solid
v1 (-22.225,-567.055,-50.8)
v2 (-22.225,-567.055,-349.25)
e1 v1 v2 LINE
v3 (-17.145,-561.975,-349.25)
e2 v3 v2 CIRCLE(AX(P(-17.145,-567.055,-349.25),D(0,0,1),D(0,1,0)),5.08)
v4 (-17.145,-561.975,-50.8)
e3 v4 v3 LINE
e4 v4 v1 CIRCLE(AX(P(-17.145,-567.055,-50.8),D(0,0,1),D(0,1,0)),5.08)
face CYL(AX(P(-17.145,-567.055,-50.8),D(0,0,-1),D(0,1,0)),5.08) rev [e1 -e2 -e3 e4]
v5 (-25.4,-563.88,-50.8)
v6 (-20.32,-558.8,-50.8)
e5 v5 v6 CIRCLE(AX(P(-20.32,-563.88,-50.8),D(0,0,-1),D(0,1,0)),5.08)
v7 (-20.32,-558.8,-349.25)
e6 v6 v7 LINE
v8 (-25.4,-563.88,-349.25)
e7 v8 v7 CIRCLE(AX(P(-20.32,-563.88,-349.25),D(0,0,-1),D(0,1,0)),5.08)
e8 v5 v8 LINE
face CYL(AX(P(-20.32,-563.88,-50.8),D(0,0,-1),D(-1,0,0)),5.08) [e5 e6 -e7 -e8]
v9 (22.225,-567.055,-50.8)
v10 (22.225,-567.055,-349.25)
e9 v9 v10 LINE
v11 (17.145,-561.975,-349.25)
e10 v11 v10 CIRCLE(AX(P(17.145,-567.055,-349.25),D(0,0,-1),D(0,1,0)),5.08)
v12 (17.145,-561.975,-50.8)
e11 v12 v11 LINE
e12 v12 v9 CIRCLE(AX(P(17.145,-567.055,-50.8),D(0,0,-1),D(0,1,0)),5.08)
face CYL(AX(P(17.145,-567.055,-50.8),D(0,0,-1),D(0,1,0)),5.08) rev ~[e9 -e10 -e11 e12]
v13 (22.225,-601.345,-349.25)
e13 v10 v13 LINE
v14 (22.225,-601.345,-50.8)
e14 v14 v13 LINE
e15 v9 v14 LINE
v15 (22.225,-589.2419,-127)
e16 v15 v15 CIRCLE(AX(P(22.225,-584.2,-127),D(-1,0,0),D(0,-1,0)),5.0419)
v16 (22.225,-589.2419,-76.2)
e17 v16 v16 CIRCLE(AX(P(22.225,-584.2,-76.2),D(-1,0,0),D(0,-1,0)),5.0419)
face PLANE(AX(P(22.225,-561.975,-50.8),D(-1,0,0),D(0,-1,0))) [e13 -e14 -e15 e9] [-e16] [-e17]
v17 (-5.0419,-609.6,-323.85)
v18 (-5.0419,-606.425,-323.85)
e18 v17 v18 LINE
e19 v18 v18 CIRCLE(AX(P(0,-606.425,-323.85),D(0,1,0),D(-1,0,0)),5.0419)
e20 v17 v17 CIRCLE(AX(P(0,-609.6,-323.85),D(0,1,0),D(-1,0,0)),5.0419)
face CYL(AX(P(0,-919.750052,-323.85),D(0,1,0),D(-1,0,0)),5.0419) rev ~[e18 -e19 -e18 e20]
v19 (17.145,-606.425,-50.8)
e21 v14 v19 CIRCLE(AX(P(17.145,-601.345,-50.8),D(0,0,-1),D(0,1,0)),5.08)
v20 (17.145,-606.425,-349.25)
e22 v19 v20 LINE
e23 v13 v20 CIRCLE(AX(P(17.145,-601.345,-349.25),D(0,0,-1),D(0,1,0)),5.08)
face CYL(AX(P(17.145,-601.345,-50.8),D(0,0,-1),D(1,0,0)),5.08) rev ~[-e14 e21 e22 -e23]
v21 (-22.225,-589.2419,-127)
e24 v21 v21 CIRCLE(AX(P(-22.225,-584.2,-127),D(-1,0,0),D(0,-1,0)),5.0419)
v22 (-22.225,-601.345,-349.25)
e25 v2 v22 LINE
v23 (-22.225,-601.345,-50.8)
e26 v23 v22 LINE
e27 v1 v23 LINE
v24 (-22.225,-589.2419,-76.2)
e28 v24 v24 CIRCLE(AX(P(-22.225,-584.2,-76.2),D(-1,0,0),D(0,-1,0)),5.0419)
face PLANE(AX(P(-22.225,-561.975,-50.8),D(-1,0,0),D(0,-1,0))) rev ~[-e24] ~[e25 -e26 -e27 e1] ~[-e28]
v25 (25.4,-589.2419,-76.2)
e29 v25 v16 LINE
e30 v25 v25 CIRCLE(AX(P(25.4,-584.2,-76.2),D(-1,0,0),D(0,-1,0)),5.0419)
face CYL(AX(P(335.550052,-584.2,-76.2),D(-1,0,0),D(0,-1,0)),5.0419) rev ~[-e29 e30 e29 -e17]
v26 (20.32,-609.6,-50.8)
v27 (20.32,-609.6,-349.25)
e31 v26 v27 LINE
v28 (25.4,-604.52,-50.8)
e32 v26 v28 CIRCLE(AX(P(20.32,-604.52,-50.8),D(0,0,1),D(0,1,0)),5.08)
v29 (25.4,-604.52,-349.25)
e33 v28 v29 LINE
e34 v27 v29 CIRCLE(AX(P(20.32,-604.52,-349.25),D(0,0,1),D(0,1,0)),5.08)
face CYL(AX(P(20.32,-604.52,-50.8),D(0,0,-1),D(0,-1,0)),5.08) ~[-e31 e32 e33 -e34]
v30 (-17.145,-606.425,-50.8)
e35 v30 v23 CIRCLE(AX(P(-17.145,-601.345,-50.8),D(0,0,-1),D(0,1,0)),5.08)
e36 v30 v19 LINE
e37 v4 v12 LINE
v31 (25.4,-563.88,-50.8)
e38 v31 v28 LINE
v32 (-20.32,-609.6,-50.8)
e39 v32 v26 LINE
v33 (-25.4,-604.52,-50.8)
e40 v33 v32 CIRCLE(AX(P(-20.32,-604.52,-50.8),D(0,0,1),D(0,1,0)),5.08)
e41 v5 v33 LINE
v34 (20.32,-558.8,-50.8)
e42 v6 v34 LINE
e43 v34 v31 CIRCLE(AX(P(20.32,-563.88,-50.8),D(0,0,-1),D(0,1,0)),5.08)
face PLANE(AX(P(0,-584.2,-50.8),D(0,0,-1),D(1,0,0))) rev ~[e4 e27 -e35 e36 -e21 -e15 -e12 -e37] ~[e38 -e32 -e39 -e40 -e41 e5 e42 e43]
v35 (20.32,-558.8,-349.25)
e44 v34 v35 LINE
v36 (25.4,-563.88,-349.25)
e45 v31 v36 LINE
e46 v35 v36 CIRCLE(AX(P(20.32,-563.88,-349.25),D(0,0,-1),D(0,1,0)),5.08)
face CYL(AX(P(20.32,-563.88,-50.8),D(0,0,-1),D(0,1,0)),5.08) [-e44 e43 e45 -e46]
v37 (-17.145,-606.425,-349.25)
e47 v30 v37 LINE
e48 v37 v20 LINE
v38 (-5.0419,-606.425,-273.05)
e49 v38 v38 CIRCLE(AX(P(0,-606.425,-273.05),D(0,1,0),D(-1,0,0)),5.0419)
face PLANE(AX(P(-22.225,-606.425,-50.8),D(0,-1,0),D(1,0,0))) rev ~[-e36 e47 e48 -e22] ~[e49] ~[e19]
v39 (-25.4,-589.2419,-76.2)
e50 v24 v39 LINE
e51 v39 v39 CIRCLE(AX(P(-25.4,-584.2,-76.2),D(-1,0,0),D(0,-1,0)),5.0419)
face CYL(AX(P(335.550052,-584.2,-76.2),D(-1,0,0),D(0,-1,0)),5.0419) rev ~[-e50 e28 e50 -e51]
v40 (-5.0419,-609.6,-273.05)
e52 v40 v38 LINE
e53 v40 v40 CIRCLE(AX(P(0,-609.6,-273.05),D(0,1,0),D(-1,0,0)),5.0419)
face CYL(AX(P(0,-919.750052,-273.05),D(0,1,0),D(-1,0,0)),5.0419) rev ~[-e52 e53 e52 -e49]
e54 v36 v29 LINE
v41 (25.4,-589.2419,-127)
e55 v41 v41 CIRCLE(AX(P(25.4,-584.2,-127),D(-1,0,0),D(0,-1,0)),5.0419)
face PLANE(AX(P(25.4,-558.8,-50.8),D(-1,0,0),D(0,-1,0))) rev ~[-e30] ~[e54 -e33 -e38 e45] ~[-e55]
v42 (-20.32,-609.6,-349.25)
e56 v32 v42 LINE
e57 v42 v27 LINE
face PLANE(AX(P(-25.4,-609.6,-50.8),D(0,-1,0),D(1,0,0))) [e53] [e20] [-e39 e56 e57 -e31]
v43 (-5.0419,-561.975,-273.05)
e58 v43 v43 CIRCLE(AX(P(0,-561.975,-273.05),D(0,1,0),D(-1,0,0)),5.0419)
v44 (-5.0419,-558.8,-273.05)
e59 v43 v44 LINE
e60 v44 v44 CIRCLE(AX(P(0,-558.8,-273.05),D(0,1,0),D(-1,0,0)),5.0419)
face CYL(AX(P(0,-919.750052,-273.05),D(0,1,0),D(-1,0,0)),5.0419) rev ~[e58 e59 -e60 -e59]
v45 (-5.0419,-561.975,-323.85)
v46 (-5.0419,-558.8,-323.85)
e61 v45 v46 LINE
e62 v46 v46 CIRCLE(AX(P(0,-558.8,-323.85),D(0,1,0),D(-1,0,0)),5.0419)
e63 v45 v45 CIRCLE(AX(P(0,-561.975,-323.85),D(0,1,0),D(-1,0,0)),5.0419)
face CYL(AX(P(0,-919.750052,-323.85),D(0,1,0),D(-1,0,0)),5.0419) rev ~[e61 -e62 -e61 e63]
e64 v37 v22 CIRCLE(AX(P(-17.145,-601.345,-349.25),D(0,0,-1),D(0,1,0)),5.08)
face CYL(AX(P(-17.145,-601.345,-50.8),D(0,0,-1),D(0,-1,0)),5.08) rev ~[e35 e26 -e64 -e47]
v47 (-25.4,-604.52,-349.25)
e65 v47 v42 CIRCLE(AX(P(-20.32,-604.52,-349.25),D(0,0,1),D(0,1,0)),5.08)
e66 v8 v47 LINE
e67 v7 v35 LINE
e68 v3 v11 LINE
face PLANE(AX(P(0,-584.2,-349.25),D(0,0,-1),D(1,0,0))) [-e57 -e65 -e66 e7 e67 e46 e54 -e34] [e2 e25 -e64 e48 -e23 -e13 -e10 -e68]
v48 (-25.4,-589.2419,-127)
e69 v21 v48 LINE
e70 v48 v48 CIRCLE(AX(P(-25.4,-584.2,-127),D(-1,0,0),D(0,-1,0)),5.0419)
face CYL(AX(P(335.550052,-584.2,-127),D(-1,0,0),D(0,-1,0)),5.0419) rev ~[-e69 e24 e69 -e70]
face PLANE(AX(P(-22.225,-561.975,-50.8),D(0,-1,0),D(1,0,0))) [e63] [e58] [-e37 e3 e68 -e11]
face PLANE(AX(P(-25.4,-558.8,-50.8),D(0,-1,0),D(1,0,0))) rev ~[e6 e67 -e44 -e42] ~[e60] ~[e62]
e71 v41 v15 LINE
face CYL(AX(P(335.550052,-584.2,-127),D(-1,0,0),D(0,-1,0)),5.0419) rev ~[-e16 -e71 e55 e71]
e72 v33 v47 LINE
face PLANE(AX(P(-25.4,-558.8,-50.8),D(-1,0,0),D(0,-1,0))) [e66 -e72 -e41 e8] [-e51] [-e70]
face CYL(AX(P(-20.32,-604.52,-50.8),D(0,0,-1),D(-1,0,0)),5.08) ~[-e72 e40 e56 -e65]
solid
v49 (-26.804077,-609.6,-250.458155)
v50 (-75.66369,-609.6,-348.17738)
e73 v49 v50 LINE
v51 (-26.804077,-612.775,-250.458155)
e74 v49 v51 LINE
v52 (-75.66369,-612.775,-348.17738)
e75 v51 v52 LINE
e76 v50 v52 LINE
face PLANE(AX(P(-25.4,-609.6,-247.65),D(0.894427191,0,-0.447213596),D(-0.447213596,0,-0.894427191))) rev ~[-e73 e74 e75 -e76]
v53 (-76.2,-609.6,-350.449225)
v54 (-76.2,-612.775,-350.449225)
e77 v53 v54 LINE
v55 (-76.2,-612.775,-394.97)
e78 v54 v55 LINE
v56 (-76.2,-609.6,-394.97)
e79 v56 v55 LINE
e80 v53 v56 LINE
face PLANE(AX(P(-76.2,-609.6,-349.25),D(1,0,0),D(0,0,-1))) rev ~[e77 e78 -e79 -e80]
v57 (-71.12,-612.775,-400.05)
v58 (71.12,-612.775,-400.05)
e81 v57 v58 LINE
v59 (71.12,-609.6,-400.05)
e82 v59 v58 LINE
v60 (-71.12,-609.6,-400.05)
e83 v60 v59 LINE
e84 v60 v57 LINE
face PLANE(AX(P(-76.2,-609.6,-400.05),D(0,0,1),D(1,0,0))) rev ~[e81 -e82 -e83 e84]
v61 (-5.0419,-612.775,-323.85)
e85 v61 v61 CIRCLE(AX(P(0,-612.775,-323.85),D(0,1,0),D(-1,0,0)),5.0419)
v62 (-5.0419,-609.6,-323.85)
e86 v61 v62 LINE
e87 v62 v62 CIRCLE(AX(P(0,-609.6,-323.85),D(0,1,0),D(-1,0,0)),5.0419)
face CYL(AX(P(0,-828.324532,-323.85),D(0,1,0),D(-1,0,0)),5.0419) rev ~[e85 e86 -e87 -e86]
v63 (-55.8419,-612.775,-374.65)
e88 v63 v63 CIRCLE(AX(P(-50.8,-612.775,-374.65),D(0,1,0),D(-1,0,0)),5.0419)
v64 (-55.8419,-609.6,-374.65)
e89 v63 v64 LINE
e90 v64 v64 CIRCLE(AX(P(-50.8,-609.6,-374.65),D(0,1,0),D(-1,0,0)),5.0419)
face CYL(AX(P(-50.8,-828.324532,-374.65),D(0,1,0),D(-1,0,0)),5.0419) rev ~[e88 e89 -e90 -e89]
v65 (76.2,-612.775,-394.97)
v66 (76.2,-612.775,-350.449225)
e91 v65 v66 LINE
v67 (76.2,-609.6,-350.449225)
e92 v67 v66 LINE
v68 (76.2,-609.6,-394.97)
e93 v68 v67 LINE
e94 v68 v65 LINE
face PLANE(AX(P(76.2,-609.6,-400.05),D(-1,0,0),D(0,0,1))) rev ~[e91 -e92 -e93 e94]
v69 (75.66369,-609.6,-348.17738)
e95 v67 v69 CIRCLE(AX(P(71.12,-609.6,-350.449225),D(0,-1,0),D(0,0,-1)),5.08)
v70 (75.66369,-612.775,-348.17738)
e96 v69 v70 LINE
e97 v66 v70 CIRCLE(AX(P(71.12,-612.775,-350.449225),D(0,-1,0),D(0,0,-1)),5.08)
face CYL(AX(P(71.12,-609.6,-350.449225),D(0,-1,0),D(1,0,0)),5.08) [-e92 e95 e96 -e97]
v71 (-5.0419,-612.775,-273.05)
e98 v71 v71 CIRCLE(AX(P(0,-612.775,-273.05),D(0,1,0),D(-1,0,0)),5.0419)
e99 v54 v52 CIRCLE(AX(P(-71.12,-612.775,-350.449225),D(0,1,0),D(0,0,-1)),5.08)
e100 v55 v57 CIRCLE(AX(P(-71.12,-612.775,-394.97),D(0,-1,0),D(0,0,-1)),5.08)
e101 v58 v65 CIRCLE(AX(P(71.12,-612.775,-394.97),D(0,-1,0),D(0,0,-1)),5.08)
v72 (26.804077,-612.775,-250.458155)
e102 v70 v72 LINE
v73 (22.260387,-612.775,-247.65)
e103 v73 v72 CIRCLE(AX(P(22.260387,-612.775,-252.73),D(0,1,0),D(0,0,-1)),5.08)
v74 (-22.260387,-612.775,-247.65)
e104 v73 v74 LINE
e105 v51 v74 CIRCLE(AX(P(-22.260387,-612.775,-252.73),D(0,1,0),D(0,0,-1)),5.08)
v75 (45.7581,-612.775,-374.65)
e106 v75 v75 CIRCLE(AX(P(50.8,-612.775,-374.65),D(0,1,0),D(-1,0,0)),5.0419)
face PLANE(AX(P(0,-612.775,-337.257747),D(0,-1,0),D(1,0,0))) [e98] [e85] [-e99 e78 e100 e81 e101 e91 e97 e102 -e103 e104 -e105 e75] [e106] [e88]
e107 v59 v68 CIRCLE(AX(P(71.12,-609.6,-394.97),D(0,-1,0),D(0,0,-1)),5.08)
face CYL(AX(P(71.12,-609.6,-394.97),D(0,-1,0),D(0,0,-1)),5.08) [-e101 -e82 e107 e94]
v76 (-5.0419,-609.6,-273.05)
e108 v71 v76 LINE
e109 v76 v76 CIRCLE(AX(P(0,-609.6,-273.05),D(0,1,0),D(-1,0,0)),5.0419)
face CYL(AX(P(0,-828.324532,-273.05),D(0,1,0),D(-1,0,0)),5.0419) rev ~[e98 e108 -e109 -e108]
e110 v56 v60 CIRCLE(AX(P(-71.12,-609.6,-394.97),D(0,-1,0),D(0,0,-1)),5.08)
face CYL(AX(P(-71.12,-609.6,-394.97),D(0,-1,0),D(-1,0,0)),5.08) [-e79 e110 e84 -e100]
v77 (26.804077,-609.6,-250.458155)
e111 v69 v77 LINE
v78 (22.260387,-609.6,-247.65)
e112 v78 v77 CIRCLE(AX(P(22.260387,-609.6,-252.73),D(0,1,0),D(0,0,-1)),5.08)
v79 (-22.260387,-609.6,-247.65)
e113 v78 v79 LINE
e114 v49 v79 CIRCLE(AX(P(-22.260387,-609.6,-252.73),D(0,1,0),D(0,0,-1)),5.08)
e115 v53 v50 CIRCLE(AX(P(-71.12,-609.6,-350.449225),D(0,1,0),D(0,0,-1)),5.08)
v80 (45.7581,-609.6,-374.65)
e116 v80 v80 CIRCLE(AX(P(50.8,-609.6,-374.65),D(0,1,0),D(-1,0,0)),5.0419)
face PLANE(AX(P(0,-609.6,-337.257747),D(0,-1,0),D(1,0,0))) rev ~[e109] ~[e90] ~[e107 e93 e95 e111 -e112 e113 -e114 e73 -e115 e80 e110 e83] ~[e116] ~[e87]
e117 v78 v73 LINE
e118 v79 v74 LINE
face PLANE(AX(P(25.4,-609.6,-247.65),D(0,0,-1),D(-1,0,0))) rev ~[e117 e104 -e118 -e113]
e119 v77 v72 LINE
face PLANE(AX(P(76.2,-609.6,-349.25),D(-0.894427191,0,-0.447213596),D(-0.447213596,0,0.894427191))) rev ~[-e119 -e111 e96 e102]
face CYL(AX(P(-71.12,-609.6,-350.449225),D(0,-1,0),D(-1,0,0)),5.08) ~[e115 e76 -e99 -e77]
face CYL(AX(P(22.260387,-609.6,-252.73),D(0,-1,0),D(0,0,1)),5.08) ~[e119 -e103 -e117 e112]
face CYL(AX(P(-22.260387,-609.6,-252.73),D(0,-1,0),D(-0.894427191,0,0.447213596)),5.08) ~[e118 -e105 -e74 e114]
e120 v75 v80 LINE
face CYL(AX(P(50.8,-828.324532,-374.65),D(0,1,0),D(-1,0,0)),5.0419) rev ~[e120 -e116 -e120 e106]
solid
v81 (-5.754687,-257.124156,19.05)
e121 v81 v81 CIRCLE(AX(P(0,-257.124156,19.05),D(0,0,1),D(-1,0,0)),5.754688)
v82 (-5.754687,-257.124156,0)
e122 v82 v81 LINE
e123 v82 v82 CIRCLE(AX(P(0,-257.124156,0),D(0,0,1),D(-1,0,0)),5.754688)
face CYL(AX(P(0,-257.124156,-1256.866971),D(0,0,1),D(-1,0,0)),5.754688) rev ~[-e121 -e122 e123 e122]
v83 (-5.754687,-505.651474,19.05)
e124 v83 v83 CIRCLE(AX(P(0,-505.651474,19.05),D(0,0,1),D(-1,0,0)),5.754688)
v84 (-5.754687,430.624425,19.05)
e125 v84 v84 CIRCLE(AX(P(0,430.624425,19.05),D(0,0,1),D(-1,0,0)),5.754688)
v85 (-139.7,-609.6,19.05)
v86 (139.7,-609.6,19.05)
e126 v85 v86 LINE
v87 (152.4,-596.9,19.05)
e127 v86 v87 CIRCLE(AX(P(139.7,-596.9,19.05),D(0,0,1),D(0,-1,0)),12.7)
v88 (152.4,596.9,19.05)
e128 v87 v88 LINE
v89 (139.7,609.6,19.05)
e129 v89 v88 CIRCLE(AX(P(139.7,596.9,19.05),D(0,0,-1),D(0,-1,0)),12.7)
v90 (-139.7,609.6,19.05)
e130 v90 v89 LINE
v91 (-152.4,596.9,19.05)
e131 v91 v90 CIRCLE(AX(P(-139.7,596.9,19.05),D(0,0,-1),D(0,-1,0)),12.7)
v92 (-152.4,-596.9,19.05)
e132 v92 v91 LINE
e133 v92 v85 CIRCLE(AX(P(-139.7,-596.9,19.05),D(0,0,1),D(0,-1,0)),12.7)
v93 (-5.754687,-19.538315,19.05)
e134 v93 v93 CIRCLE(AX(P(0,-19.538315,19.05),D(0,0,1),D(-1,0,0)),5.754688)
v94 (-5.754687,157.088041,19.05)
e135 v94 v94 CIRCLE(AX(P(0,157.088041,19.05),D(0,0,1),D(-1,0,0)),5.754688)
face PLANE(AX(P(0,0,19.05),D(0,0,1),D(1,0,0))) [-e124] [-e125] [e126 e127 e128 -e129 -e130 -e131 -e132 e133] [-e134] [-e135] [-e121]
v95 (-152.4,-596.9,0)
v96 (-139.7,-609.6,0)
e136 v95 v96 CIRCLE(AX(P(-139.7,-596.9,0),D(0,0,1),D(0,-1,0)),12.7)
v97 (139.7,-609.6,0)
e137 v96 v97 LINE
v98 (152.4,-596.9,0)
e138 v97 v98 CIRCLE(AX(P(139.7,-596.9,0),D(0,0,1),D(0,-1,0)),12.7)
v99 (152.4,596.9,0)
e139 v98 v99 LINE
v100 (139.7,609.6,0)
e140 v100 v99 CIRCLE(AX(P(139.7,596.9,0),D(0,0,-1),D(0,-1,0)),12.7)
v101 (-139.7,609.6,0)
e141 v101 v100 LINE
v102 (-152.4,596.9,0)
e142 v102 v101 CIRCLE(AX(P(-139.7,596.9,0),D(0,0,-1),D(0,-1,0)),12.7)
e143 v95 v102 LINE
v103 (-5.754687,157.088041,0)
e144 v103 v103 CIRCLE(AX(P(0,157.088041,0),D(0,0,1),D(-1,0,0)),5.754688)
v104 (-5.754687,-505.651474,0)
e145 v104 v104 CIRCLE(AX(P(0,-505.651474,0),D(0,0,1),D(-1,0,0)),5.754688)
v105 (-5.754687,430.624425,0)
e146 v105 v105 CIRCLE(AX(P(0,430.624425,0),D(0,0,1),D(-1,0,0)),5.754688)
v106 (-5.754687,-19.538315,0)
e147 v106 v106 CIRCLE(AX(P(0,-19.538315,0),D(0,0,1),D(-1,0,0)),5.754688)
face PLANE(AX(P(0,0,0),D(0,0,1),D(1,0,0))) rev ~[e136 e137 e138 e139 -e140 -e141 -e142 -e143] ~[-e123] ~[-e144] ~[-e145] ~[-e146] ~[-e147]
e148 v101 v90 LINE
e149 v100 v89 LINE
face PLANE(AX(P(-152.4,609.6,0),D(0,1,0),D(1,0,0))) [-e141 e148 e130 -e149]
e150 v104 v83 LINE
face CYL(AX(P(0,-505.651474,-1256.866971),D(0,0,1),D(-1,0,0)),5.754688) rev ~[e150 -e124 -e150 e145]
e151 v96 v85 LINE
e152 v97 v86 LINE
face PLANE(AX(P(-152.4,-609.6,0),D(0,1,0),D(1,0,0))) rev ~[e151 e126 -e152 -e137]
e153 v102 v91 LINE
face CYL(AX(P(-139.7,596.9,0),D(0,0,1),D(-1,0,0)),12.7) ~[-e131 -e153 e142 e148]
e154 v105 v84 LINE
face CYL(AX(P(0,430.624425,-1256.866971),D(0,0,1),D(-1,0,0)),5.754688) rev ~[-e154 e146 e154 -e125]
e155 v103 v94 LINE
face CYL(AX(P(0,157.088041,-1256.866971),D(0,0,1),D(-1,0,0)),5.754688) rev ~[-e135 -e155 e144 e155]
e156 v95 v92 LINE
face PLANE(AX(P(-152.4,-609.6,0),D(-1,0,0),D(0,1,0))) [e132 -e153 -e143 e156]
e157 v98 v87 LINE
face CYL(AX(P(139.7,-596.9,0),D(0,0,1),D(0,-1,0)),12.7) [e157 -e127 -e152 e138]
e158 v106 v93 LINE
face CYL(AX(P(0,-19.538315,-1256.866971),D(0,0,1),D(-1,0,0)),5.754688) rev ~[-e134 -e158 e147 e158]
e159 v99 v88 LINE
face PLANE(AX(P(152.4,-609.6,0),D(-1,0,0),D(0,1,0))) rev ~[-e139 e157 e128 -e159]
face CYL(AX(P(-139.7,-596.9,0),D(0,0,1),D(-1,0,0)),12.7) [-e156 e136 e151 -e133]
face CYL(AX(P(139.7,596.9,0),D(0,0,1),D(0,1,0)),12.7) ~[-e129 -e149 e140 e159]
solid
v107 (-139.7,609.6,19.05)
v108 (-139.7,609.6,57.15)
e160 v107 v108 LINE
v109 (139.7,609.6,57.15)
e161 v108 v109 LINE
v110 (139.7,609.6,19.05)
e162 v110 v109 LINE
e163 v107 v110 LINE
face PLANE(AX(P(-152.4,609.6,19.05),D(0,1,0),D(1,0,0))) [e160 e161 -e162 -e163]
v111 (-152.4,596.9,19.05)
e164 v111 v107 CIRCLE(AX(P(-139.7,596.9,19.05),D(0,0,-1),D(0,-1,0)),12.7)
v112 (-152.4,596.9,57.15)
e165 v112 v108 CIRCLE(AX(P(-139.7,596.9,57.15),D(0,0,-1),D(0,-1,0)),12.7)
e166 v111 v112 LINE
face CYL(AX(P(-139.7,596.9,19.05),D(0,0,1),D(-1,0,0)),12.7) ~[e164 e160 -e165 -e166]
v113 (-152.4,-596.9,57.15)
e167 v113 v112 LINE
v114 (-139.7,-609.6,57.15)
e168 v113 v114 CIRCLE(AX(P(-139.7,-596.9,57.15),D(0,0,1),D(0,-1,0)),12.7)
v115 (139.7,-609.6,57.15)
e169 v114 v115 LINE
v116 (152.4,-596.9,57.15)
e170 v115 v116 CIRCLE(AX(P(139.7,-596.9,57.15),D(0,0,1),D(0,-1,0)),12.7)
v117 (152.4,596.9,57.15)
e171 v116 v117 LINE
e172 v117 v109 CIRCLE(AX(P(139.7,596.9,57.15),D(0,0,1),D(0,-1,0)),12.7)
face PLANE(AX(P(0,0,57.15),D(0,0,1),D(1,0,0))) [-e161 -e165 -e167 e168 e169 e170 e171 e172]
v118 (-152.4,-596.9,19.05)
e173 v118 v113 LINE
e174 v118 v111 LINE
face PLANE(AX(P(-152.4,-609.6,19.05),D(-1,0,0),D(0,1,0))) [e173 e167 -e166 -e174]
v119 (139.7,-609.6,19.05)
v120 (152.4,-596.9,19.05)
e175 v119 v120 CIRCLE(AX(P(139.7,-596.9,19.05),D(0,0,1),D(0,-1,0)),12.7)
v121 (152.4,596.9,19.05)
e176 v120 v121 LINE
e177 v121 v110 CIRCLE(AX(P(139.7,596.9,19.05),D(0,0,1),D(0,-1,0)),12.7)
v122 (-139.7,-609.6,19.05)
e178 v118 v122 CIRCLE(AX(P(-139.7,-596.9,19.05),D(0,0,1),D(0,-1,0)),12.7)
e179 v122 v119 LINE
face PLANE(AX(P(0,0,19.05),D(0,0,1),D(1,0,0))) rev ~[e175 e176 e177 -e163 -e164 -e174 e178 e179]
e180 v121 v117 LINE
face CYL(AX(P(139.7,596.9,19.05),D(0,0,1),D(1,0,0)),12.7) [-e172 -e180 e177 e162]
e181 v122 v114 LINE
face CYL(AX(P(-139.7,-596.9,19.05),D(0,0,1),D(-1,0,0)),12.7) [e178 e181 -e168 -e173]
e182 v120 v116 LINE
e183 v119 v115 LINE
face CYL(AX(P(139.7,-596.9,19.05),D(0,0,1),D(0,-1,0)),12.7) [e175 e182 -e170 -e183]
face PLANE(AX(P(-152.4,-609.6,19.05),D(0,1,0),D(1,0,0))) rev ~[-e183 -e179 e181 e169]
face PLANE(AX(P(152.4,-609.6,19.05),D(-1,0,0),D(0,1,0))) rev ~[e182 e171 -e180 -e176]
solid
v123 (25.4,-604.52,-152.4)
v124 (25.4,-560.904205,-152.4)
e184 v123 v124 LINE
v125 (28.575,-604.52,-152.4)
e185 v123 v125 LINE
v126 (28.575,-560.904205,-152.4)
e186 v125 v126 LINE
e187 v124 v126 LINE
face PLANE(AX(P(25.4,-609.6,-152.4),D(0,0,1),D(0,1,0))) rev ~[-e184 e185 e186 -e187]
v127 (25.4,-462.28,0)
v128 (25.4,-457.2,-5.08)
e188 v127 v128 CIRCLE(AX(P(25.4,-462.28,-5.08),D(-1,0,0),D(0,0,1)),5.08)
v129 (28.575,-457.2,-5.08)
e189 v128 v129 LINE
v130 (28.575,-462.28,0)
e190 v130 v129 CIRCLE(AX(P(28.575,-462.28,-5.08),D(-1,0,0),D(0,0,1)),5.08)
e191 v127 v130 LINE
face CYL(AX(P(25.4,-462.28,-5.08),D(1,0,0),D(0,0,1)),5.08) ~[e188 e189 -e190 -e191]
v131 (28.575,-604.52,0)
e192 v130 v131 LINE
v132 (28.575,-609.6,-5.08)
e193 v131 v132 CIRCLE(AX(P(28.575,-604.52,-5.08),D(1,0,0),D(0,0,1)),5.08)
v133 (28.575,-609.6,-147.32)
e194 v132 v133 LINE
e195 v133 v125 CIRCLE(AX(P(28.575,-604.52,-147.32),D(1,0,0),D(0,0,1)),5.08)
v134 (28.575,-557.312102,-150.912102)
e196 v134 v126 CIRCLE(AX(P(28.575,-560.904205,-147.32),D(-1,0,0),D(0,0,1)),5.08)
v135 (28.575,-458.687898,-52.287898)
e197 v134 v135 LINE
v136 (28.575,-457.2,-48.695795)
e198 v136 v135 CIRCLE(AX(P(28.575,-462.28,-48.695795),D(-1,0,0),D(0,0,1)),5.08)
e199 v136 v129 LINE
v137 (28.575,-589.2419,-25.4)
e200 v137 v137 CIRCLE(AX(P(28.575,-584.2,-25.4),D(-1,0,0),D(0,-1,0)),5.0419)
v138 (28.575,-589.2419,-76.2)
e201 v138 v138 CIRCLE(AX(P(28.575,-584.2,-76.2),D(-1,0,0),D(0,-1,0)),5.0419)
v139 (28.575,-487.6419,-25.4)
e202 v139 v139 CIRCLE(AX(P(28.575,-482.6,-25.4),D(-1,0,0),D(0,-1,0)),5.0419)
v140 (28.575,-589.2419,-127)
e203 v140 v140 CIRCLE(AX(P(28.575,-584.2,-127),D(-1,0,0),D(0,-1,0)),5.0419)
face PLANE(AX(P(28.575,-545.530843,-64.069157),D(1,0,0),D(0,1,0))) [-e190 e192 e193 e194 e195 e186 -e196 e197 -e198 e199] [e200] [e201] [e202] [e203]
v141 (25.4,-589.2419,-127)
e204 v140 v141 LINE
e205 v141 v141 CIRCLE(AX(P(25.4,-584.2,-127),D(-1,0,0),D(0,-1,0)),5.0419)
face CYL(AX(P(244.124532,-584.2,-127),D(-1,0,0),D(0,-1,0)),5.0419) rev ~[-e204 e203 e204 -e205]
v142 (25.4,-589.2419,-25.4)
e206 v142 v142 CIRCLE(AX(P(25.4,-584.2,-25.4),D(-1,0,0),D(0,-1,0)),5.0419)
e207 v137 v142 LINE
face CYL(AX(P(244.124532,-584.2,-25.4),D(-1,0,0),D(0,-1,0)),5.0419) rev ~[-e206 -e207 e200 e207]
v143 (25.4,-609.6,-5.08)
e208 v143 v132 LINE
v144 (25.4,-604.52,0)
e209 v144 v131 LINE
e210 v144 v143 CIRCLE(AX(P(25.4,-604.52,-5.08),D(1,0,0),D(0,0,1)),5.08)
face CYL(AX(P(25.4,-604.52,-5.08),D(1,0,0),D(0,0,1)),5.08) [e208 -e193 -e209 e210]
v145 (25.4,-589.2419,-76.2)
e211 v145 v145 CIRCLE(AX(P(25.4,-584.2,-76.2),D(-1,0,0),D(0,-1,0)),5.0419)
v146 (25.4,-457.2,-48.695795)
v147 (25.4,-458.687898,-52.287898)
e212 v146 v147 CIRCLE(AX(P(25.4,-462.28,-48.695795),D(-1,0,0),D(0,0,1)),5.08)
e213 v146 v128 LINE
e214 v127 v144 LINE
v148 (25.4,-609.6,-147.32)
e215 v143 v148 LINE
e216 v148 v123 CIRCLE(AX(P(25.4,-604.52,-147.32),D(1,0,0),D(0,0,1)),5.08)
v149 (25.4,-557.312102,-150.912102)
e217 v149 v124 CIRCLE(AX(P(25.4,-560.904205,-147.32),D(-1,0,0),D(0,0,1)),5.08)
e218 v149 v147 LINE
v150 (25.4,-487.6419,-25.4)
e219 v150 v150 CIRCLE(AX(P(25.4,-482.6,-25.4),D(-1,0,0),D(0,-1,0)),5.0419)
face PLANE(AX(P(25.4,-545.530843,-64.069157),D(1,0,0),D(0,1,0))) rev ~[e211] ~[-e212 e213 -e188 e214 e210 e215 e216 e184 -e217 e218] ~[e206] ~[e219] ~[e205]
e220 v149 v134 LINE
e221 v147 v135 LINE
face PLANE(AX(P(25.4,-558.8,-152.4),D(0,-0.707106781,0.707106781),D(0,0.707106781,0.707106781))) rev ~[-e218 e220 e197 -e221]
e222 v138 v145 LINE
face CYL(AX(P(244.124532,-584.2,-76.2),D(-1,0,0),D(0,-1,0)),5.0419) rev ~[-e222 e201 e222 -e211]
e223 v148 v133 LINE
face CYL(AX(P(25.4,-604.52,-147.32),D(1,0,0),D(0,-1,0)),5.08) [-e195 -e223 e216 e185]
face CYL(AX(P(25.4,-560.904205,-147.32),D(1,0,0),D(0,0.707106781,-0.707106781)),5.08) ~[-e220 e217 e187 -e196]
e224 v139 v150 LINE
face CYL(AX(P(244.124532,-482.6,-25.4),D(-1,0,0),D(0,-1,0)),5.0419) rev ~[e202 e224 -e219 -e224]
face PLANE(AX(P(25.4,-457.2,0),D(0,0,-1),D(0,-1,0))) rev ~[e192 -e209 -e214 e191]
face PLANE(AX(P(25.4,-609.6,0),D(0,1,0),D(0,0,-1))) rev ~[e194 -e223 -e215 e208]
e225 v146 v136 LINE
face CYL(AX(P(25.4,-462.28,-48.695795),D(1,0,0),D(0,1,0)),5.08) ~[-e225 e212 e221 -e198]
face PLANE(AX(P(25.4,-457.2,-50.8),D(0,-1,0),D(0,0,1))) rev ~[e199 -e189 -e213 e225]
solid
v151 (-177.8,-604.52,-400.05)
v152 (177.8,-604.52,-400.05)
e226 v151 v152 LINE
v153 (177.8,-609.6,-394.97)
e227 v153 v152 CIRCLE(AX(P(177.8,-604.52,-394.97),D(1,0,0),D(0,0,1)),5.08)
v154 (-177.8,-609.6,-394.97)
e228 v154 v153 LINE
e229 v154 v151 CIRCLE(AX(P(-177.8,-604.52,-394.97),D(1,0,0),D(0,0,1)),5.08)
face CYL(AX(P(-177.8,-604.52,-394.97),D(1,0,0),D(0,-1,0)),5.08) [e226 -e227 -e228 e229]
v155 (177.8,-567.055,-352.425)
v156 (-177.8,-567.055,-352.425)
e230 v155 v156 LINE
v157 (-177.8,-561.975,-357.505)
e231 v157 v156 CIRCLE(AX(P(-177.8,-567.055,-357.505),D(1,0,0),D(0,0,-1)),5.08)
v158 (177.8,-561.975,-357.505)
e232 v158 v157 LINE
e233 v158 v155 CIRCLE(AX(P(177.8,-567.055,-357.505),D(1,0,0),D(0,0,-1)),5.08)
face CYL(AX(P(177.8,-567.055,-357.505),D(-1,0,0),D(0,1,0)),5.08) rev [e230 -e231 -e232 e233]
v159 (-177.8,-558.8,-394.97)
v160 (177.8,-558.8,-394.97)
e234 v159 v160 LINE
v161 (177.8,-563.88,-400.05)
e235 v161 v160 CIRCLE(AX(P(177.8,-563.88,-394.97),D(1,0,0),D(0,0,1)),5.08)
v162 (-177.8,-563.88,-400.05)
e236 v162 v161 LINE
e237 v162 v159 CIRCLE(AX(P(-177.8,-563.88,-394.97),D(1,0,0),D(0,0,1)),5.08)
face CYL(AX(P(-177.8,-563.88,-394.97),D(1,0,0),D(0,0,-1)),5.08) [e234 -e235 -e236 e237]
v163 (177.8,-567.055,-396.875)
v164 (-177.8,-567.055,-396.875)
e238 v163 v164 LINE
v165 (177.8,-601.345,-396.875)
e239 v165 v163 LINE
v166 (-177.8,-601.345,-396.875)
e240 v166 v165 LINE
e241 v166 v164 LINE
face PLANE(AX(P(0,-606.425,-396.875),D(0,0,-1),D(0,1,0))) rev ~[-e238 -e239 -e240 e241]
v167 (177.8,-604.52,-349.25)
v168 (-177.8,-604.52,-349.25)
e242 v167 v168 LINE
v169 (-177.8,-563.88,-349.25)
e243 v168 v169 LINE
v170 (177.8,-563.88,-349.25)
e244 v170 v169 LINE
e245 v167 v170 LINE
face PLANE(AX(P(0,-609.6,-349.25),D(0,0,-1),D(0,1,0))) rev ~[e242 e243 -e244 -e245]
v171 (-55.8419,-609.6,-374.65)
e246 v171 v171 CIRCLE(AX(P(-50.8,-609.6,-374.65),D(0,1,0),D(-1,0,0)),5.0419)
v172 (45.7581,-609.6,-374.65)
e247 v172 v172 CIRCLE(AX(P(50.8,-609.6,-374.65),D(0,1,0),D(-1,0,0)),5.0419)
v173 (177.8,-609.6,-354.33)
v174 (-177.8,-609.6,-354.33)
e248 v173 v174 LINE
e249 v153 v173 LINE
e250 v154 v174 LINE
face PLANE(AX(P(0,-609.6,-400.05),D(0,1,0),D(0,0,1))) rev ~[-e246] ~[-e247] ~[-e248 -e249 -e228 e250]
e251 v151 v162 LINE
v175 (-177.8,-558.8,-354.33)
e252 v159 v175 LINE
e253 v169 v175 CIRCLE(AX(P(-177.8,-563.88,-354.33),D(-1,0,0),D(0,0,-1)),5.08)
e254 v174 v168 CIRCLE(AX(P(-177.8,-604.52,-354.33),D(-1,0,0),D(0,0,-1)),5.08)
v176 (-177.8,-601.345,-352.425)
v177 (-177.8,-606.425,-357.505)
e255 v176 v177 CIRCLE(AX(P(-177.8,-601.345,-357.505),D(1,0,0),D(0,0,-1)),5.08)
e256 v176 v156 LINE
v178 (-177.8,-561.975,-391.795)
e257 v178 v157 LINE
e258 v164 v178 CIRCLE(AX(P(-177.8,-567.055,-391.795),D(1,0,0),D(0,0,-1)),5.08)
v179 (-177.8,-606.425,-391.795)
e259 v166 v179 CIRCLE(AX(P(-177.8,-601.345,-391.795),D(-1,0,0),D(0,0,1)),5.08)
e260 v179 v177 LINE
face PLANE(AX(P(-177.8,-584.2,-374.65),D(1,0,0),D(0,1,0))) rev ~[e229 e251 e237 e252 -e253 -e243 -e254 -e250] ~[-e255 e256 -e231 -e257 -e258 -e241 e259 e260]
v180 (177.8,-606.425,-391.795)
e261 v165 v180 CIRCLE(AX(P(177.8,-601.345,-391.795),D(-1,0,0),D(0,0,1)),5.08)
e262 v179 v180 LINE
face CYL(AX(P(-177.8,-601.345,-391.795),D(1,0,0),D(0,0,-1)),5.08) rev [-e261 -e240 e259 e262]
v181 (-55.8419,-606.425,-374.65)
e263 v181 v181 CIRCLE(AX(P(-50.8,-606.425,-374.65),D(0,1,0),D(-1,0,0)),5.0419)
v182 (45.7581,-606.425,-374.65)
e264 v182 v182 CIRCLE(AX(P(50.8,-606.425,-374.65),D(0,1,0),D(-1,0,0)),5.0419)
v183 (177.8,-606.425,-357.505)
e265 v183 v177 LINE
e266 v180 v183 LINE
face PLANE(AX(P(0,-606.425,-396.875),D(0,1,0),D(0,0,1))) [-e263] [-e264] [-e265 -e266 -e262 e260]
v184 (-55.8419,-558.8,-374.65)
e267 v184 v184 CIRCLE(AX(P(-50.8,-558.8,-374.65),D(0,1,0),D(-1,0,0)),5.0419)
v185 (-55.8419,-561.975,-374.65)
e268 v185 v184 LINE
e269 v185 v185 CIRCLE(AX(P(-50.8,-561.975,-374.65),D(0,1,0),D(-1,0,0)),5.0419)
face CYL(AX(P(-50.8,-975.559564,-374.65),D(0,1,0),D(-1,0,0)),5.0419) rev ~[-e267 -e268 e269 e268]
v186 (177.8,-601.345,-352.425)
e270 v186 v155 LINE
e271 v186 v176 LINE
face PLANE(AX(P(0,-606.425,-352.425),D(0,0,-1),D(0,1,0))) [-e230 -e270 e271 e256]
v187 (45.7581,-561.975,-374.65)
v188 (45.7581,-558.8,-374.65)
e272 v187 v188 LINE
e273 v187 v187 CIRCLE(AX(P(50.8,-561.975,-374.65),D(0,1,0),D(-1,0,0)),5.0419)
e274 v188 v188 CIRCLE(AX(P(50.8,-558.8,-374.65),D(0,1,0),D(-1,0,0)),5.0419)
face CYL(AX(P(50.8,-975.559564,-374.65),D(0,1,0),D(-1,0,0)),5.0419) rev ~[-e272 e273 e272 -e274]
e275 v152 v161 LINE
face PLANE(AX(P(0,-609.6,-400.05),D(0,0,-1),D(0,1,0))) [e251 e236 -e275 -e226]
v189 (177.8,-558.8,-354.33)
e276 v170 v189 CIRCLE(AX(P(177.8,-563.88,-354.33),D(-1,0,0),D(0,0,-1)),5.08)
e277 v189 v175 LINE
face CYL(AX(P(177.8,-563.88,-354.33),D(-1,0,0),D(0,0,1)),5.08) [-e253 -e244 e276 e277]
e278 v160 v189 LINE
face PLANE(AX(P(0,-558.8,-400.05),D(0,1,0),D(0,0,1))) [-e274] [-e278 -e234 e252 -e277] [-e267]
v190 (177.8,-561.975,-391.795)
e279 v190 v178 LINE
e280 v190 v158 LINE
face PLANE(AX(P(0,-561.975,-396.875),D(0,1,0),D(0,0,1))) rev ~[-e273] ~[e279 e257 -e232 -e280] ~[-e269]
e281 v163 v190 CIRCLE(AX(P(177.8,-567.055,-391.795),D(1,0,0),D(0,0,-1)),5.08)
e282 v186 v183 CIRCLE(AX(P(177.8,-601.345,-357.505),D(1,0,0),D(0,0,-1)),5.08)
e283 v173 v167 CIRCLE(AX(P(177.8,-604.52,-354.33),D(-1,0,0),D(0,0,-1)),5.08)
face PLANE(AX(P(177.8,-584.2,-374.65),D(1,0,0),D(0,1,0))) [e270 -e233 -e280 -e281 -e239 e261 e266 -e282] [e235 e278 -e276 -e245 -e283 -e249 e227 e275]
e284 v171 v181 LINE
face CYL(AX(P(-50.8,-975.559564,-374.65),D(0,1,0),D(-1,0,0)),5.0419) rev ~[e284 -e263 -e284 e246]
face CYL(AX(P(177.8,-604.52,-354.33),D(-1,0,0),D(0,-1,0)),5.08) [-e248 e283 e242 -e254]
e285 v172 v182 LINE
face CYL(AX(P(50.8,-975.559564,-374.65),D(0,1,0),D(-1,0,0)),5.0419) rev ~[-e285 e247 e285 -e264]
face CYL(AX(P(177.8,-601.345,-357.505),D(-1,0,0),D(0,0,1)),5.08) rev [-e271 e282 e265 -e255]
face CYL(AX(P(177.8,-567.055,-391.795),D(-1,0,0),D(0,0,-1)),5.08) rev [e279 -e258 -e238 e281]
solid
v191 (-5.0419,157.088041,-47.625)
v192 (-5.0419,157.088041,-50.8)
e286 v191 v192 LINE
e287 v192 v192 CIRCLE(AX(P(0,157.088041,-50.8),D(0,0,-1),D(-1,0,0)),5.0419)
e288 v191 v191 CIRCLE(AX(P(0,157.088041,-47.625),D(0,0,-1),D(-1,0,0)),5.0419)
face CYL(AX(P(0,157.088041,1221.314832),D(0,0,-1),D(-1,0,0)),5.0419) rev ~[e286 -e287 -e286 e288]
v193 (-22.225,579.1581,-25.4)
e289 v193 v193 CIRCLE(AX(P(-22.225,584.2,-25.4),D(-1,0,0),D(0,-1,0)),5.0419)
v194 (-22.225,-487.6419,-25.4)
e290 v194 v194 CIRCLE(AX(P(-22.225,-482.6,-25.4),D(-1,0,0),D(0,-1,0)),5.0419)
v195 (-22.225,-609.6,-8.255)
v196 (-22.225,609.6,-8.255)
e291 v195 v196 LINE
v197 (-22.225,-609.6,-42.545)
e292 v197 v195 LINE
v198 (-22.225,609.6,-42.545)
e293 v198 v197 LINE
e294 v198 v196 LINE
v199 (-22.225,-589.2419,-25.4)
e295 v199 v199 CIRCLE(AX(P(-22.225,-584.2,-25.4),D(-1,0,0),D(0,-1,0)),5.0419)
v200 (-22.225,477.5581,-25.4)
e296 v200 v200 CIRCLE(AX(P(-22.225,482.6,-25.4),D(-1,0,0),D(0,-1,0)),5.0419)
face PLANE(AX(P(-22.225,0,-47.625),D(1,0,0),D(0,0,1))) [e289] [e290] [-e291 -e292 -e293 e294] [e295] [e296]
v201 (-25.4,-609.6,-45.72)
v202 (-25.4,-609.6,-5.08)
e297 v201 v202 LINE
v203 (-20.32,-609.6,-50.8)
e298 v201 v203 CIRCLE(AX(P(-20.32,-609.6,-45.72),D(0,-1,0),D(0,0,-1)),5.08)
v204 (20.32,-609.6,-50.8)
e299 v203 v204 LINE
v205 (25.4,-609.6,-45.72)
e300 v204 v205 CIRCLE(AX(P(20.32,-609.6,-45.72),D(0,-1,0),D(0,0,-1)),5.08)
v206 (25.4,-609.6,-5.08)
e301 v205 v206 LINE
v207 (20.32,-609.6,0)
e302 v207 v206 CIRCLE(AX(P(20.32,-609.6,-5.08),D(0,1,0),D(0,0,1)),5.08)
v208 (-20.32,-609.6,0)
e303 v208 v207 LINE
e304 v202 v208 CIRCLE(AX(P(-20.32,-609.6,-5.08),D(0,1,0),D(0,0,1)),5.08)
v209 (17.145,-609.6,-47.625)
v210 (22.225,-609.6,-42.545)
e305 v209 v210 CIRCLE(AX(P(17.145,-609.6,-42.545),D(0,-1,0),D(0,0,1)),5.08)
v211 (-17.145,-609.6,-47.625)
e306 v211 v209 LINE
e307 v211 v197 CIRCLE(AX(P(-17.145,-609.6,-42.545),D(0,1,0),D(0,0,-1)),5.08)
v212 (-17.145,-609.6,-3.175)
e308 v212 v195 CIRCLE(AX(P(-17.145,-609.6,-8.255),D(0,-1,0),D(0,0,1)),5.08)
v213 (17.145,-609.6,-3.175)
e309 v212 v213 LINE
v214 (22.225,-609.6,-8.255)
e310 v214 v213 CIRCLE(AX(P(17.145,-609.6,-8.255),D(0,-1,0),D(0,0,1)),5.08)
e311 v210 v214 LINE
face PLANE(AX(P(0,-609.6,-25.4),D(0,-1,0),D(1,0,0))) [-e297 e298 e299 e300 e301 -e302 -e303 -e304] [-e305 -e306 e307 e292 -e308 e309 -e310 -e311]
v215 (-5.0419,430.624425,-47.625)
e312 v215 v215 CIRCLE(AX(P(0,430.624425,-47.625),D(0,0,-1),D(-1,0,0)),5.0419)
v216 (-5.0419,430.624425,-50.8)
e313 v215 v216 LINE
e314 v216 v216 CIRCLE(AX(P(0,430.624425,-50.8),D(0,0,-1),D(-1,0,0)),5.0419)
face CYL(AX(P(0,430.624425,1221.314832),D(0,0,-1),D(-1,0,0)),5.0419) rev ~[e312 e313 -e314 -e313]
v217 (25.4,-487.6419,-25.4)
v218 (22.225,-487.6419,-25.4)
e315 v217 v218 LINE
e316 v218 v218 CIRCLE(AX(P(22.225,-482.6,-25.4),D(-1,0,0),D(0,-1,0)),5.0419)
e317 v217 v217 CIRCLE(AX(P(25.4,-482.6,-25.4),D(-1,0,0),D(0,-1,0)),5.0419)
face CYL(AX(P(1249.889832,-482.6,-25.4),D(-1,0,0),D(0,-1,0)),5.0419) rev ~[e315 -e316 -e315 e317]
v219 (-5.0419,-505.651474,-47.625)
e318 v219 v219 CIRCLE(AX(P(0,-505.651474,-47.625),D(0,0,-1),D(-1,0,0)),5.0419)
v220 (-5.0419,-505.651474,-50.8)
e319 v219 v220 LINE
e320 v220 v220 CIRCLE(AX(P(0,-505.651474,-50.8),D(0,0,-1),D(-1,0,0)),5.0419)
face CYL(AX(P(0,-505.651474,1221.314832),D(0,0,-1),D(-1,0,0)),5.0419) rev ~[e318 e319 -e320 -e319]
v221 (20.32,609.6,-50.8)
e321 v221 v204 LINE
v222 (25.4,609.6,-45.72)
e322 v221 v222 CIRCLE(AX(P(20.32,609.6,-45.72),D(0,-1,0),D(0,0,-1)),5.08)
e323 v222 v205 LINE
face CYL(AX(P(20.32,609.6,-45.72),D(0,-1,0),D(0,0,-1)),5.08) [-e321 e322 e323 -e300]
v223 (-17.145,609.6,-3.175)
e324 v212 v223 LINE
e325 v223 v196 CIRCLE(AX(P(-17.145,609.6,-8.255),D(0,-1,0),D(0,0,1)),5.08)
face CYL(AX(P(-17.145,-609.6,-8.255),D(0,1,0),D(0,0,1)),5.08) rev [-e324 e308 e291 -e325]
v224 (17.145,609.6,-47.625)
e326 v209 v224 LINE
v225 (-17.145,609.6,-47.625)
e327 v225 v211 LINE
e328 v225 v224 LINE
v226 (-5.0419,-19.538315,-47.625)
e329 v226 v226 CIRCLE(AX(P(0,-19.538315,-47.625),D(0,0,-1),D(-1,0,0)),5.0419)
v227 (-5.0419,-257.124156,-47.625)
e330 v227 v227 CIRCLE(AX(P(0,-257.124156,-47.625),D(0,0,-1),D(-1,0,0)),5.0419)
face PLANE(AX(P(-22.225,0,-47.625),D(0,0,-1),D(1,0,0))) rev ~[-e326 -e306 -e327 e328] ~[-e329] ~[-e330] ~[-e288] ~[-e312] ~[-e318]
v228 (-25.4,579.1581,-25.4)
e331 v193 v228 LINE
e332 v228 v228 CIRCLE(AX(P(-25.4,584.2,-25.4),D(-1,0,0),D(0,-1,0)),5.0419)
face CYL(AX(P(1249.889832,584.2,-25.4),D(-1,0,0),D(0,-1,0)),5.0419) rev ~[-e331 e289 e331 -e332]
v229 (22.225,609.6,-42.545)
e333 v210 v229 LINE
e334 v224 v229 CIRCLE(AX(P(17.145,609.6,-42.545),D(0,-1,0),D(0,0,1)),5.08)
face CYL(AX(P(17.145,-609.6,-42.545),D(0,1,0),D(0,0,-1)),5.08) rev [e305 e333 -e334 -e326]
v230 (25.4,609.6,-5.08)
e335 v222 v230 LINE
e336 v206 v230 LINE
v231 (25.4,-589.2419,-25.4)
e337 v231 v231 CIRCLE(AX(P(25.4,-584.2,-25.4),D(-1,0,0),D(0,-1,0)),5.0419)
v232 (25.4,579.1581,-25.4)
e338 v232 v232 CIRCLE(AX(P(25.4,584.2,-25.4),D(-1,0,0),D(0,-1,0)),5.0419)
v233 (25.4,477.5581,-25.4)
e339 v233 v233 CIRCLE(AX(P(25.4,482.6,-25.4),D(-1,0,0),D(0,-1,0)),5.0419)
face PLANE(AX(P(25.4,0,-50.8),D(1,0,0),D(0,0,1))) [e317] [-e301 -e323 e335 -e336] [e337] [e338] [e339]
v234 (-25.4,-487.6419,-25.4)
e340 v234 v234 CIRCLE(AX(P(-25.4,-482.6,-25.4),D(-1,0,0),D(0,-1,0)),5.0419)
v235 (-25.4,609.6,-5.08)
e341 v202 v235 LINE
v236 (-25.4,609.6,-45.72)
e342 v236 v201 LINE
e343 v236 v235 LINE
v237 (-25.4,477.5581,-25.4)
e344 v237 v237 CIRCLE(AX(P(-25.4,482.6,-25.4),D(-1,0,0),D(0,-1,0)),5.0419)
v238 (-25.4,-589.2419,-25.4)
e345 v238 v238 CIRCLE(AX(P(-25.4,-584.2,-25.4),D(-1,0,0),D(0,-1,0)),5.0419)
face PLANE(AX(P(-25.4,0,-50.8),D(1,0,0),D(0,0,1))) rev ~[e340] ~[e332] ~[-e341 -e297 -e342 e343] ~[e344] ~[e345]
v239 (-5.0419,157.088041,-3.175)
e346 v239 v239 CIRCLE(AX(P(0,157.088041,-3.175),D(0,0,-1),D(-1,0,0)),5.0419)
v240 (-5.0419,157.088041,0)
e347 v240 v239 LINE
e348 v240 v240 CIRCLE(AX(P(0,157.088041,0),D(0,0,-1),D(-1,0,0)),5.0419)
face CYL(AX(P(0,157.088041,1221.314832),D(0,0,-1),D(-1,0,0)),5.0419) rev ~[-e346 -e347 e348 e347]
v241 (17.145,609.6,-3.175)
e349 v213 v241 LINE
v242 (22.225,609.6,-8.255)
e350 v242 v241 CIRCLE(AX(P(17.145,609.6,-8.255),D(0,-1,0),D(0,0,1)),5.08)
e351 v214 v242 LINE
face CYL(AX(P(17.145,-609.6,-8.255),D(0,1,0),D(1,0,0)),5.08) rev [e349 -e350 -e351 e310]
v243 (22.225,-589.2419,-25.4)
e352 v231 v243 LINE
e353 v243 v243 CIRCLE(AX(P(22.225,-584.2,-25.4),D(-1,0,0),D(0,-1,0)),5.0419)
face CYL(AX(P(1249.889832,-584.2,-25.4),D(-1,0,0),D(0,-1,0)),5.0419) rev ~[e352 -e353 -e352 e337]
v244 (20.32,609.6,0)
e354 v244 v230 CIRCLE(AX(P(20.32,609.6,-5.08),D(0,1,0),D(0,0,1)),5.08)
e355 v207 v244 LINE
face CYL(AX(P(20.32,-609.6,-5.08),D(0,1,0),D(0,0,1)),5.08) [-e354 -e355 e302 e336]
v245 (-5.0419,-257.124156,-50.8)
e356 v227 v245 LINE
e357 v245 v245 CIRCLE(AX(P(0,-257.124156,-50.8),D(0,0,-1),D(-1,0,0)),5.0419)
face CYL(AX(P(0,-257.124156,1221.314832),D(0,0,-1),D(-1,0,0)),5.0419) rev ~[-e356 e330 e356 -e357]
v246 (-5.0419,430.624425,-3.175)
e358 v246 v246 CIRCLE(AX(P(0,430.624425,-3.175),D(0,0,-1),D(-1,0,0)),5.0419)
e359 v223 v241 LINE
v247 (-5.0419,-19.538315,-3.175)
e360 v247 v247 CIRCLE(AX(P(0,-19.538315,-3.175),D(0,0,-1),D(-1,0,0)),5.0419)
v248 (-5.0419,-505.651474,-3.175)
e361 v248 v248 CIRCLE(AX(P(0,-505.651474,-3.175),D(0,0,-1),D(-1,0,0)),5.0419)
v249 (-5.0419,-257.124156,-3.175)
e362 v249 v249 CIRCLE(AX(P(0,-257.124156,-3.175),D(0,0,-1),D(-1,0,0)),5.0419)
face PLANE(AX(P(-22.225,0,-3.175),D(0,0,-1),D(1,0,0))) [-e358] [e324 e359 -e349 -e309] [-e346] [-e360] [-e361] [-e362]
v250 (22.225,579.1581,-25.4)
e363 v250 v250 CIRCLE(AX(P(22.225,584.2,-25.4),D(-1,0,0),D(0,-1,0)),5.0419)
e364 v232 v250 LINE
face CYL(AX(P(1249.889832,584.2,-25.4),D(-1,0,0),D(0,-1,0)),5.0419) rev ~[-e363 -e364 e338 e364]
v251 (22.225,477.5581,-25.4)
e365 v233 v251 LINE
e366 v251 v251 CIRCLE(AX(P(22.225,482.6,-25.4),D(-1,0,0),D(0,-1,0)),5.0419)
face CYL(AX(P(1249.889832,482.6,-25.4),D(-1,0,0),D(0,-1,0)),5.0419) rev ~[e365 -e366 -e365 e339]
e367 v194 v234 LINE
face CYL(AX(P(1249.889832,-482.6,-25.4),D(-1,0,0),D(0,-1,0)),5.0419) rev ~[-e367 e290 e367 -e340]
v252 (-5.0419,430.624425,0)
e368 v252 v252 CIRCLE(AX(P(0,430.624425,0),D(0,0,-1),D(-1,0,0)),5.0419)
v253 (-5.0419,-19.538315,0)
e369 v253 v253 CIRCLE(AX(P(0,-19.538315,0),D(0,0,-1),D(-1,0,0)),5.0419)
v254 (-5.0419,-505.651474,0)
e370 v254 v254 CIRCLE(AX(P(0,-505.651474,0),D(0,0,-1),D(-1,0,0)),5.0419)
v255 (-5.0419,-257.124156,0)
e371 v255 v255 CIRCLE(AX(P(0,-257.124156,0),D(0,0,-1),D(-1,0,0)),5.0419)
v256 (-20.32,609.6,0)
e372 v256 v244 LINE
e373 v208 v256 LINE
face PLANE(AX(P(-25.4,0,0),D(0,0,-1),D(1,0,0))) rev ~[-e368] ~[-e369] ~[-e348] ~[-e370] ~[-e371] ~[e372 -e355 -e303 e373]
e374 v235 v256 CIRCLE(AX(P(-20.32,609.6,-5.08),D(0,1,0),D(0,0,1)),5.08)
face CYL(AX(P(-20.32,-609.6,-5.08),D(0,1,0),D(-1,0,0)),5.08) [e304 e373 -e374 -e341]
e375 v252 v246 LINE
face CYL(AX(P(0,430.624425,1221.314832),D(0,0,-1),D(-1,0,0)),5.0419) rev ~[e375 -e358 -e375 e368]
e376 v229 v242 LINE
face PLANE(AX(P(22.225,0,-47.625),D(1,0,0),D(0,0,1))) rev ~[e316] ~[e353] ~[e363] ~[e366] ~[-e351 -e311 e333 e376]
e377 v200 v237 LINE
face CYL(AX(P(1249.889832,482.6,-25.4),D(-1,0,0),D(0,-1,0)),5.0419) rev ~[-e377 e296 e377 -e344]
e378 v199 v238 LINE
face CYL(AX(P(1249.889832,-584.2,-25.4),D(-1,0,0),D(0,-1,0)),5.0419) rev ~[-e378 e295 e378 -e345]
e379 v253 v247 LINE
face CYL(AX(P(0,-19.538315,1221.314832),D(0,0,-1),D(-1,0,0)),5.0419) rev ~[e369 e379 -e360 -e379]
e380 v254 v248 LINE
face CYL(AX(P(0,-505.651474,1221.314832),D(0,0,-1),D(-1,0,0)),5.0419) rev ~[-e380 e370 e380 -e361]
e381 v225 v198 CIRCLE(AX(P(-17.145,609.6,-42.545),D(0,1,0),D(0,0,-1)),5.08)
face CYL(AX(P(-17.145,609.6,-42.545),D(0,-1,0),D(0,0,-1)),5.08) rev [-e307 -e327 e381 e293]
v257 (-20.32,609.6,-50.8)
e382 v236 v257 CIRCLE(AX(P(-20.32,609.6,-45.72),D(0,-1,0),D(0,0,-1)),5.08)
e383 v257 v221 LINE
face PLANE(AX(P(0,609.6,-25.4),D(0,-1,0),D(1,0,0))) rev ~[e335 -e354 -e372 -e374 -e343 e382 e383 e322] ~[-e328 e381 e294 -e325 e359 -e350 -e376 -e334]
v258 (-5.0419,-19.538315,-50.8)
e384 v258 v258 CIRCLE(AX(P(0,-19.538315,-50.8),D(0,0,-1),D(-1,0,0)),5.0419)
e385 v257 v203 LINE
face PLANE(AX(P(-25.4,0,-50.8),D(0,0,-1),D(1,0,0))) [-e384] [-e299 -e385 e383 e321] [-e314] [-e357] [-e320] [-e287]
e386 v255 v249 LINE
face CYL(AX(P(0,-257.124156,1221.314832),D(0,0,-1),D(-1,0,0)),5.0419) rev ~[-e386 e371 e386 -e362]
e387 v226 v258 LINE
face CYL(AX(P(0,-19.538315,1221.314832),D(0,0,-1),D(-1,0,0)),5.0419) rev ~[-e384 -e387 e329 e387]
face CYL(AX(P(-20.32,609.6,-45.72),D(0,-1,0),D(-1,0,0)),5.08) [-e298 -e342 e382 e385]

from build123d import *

# Parameters (mm, degrees)
F1_W      = 50.8
F1_H      = 50.8
F1_W_2    = 44.45
F1_H_2    = 44.45
F2_DEPTH  = 609.6
F3_W      = 50.8
F3_H      = 50.8
F3_W_2    = 44.45
F3_H_2    = 44.45
F4_DEPTH  = 298.45
F5_W      = 50.8
F5_H      = 50.8
F5_W_2    = 44.45
F5_H_2    = 44.45
F6_DEPTH  = 177.8
F8_DEPTH  = 3.175
F9_W      = 304.8
F9_H      = 1219.2
F10_DEPTH = 19.05
F11_DEPTH = 38.1
F13_DEPTH = 3.175
F15_D     = 10.0838
F15_2_D   = 10.0838
F15_3_D   = 10.0838
F17_D     = 10.0838
F17_2_D   = 10.0838
F17_3_D   = 10.0838
F19_D     = 10.0838
F20_D     = 11.509375
F21_R     = 5.08
F21_2_R   = 5.08
F21_3_R   = 5.08
F22_R     = 12.7
F22_2_R   = 12.7
F23_R     = 5.08
F23_2_R   = 5.08


with BuildPart() as f2:
    # F1 (on Front) → F2 (new body, symmetric)
    with BuildSketch(Plane.XZ):
        with Locations((0, -25.4)):
            Rectangle(F1_W, F1_H)
        with Locations((0, -25.4)):
            Rectangle(F1_W_2, F1_H_2, mode=Mode.SUBTRACT)
    extrude(amount=F2_DEPTH, both=True)

    # F17 (through all)
    with Locations(Plane.YZ.offset(28.575)):
        with Locations((-584.2, -127), (-584.2, -25.4), (-584.2, -76.2), (-482.6, -25.4), (482.6, -25.4), (584.2, -25.4)):
            Hole(F17_D / 2)

    # F19 (through all)
    with Locations(Plane.XY):
        with Locations((9.34e-08, -505.651473999), (9.34e-08, -257.1241557598), (9.34e-08, -19.5383150131), (9.34e-08, 157.0880413055), (9.34e-08, 430.6244254112)):
            Hole(F19_D / 2)

    # F21#3
    f21_3_edges = [f2.edges().sort_by_distance(p)[0] for p in [
        (25.4, 0, 0),
        (-25.4, 0, -50.8),
        (25.4, 0, -50.8),
        (22.225, 0, -47.625),
        (22.225, 0, -3.175),
        (-22.225, 0, -47.625),
        (-22.225, 0, -3.175),
        (-25.4, 0, 0),
    ]]
    fillet(f21_3_edges, radius=F21_3_R)


with BuildPart() as f4:
    # F3 (on face) → F4 (new body)
    with BuildSketch(Plane(origin=(0, 0, -50.8), x_dir=(1, 0, 0), z_dir=(0, 0, -1))):
        with Locations((0, 584.2)):
            Rectangle(F3_W, F3_H)
        with Locations((0, 584.2)):
            Rectangle(F3_W_2, F3_H_2, mode=Mode.SUBTRACT)
    extrude(amount=F4_DEPTH)

    # F15 (through all)
    with Locations(Plane.XZ.offset(612.775)):
        with Locations((-50.8, -374.65), (50.8, -374.65), (0, -323.85), (0, -273.05)):
            Hole(F15_D / 2)

    # F17#2 (through all)
    with Locations(Plane.YZ.offset(28.575)):
        with Locations((-584.2, -127), (-584.2, -25.4), (-584.2, -76.2), (-482.6, -25.4), (482.6, -25.4), (584.2, -25.4)):
            Hole(F17_2_D / 2)

    # F21#2
    f21_2_edges = [f4.edges().sort_by_distance(p)[0] for p in [
        (25.4, -558.8, -200.025),
        (22.225, -561.975, -200.025),
        (-25.4, -609.6, -200.025),
        (-22.225, -606.425, -200.025),
        (25.4, -609.6, -200.025),
        (22.225, -606.425, -200.025),
        (-22.225, -561.975, -200.025),
        (-25.4, -558.8, -200.025),
    ]]
    fillet(f21_2_edges, radius=F21_2_R)


with BuildPart() as f6:
    # F5 (on Right) → F6 (new body, symmetric)
    with BuildSketch(Plane.YZ):
        with Locations((-584.2, -374.65)):
            Rectangle(F5_W, F5_H)
        with Locations((-584.2, -374.65)):
            Rectangle(F5_W_2, F5_H_2, mode=Mode.SUBTRACT)
    extrude(amount=F6_DEPTH, both=True)

    # F15#2 (through all)
    with Locations(Plane.XZ.offset(612.775)):
        with Locations((-50.8, -374.65), (50.8, -374.65), (0, -323.85), (0, -273.05)):
            Hole(F15_2_D / 2)

    # F21
    f21_edges = [f6.edges().sort_by_distance(p)[0] for p in [
        (0, -609.6, -349.25),
        (0, -558.8, -349.25),
        (0, -558.8, -400.05),
        (0, -606.425, -396.875),
        (0, -609.6, -400.05),
        (0, -561.975, -352.425),
        (0, -561.975, -396.875),
        (0, -606.425, -352.425),
    ]]
    fillet(f21_edges, radius=F21_R)


with BuildPart() as f8:
    # F7 (on face) → F8 (new body)
    with BuildSketch(Plane.YZ.offset(25.4)):
        Polygon((-457.2, 0), (-609.6, 0), (-609.6, -152.4), (-558.8, -152.4), (-457.2, -50.8), align=None)
    extrude(amount=F8_DEPTH)

    # F17#3 (through all)
    with Locations(Plane.YZ.offset(28.575)):
        with Locations((-584.2, -127), (-584.2, -25.4), (-584.2, -76.2), (-482.6, -25.4), (482.6, -25.4), (584.2, -25.4)):
            Hole(F17_3_D / 2)

    # F23#2
    f23_2_edges = [f8.edges().sort_by_distance(p)[0] for p in [
        (26.9875, -609.6, -152.4),
        (26.9875, -558.8, -152.4),
        (26.9875, -609.6, 0),
        (26.9875, -457.2, 0),
        (26.9875, -457.2, -50.8),
    ]]
    fillet(f23_2_edges, radius=F23_2_R)


with BuildPart() as f10:
    # F9 (on Top) → F10 (new body)
    with BuildSketch(Plane.XY):
        Rectangle(F9_W, F9_H)
    extrude(amount=F10_DEPTH)


with BuildPart() as f11:
    # F11 (new): a face of the model
    f11_faces = [f10.part.faces().sort_by_distance(p)[0] for p in [
        (0, 0, 19.05),
    ]]
    extrude(f11_faces, amount=F11_DEPTH)

    # F22
    f22_edges = [f11.edges().sort_by_distance(p)[0] for p in [
        (152.4, -609.6, 38.1),
        (-152.4, -609.6, 38.1),
        (152.4, 609.6, 38.1),
        (-152.4, 609.6, 38.1),
    ]]
    fillet(f22_edges, radius=F22_R)


with BuildPart() as f13:
    # F12 (on face) → F13 (new body)
    with BuildSketch(Plane.XZ.offset(609.6)):
        Polygon((-76.2, -349.25), (-76.2, -400.05), (76.2, -400.05), (76.2, -349.25), (25.4, -247.65), (-25.4, -247.65), align=None)
    extrude(amount=F13_DEPTH)

    # F15#3 (through all)
    with Locations(Plane.XZ.offset(612.775)):
        with Locations((-50.8, -374.65), (50.8, -374.65), (0, -323.85), (0, -273.05)):
            Hole(F15_3_D / 2)

    # F23
    f23_edges = [f13.edges().sort_by_distance(p)[0] for p in [
        (76.2, -611.1875, -349.25),
        (25.4, -611.1875, -247.65),
        (-25.4, -611.1875, -247.65),
        (76.2, -611.1875, -400.05),
        (-76.2, -611.1875, -400.05),
        (-76.2, -611.1875, -349.25),
    ]]
    fillet(f23_edges, radius=F23_R)


with BuildPart() as f10_1:
    add(f10.part)

    # F20 (through all)
    with Locations(Plane(origin=(0, 0, 0), x_dir=(1, 0, 0), z_dir=(0, 0, -1))):
        with Locations((9.34e-08, 505.651473999), (9.34e-08, 257.1241557598), (9.34e-08, 19.5383150131), (9.34e-08, -157.0880413055), (9.34e-08, -430.6244254112)):
            Hole(F20_D / 2)

    # F22#2
    f22_2_edges = [f10_1.edges().sort_by_distance(p)[0] for p in [
        (152.4, -609.6, 9.525),
        (-152.4, -609.6, 9.525),
        (152.4, 609.6, 9.525),
        (-152.4, 609.6, 9.525),
    ]]
    fillet(f22_2_edges, radius=F22_2_R)


solid = Compound([f2.part, f4.part, f6.part, f8.part, f11.part, f13.part, f10_1.part])
